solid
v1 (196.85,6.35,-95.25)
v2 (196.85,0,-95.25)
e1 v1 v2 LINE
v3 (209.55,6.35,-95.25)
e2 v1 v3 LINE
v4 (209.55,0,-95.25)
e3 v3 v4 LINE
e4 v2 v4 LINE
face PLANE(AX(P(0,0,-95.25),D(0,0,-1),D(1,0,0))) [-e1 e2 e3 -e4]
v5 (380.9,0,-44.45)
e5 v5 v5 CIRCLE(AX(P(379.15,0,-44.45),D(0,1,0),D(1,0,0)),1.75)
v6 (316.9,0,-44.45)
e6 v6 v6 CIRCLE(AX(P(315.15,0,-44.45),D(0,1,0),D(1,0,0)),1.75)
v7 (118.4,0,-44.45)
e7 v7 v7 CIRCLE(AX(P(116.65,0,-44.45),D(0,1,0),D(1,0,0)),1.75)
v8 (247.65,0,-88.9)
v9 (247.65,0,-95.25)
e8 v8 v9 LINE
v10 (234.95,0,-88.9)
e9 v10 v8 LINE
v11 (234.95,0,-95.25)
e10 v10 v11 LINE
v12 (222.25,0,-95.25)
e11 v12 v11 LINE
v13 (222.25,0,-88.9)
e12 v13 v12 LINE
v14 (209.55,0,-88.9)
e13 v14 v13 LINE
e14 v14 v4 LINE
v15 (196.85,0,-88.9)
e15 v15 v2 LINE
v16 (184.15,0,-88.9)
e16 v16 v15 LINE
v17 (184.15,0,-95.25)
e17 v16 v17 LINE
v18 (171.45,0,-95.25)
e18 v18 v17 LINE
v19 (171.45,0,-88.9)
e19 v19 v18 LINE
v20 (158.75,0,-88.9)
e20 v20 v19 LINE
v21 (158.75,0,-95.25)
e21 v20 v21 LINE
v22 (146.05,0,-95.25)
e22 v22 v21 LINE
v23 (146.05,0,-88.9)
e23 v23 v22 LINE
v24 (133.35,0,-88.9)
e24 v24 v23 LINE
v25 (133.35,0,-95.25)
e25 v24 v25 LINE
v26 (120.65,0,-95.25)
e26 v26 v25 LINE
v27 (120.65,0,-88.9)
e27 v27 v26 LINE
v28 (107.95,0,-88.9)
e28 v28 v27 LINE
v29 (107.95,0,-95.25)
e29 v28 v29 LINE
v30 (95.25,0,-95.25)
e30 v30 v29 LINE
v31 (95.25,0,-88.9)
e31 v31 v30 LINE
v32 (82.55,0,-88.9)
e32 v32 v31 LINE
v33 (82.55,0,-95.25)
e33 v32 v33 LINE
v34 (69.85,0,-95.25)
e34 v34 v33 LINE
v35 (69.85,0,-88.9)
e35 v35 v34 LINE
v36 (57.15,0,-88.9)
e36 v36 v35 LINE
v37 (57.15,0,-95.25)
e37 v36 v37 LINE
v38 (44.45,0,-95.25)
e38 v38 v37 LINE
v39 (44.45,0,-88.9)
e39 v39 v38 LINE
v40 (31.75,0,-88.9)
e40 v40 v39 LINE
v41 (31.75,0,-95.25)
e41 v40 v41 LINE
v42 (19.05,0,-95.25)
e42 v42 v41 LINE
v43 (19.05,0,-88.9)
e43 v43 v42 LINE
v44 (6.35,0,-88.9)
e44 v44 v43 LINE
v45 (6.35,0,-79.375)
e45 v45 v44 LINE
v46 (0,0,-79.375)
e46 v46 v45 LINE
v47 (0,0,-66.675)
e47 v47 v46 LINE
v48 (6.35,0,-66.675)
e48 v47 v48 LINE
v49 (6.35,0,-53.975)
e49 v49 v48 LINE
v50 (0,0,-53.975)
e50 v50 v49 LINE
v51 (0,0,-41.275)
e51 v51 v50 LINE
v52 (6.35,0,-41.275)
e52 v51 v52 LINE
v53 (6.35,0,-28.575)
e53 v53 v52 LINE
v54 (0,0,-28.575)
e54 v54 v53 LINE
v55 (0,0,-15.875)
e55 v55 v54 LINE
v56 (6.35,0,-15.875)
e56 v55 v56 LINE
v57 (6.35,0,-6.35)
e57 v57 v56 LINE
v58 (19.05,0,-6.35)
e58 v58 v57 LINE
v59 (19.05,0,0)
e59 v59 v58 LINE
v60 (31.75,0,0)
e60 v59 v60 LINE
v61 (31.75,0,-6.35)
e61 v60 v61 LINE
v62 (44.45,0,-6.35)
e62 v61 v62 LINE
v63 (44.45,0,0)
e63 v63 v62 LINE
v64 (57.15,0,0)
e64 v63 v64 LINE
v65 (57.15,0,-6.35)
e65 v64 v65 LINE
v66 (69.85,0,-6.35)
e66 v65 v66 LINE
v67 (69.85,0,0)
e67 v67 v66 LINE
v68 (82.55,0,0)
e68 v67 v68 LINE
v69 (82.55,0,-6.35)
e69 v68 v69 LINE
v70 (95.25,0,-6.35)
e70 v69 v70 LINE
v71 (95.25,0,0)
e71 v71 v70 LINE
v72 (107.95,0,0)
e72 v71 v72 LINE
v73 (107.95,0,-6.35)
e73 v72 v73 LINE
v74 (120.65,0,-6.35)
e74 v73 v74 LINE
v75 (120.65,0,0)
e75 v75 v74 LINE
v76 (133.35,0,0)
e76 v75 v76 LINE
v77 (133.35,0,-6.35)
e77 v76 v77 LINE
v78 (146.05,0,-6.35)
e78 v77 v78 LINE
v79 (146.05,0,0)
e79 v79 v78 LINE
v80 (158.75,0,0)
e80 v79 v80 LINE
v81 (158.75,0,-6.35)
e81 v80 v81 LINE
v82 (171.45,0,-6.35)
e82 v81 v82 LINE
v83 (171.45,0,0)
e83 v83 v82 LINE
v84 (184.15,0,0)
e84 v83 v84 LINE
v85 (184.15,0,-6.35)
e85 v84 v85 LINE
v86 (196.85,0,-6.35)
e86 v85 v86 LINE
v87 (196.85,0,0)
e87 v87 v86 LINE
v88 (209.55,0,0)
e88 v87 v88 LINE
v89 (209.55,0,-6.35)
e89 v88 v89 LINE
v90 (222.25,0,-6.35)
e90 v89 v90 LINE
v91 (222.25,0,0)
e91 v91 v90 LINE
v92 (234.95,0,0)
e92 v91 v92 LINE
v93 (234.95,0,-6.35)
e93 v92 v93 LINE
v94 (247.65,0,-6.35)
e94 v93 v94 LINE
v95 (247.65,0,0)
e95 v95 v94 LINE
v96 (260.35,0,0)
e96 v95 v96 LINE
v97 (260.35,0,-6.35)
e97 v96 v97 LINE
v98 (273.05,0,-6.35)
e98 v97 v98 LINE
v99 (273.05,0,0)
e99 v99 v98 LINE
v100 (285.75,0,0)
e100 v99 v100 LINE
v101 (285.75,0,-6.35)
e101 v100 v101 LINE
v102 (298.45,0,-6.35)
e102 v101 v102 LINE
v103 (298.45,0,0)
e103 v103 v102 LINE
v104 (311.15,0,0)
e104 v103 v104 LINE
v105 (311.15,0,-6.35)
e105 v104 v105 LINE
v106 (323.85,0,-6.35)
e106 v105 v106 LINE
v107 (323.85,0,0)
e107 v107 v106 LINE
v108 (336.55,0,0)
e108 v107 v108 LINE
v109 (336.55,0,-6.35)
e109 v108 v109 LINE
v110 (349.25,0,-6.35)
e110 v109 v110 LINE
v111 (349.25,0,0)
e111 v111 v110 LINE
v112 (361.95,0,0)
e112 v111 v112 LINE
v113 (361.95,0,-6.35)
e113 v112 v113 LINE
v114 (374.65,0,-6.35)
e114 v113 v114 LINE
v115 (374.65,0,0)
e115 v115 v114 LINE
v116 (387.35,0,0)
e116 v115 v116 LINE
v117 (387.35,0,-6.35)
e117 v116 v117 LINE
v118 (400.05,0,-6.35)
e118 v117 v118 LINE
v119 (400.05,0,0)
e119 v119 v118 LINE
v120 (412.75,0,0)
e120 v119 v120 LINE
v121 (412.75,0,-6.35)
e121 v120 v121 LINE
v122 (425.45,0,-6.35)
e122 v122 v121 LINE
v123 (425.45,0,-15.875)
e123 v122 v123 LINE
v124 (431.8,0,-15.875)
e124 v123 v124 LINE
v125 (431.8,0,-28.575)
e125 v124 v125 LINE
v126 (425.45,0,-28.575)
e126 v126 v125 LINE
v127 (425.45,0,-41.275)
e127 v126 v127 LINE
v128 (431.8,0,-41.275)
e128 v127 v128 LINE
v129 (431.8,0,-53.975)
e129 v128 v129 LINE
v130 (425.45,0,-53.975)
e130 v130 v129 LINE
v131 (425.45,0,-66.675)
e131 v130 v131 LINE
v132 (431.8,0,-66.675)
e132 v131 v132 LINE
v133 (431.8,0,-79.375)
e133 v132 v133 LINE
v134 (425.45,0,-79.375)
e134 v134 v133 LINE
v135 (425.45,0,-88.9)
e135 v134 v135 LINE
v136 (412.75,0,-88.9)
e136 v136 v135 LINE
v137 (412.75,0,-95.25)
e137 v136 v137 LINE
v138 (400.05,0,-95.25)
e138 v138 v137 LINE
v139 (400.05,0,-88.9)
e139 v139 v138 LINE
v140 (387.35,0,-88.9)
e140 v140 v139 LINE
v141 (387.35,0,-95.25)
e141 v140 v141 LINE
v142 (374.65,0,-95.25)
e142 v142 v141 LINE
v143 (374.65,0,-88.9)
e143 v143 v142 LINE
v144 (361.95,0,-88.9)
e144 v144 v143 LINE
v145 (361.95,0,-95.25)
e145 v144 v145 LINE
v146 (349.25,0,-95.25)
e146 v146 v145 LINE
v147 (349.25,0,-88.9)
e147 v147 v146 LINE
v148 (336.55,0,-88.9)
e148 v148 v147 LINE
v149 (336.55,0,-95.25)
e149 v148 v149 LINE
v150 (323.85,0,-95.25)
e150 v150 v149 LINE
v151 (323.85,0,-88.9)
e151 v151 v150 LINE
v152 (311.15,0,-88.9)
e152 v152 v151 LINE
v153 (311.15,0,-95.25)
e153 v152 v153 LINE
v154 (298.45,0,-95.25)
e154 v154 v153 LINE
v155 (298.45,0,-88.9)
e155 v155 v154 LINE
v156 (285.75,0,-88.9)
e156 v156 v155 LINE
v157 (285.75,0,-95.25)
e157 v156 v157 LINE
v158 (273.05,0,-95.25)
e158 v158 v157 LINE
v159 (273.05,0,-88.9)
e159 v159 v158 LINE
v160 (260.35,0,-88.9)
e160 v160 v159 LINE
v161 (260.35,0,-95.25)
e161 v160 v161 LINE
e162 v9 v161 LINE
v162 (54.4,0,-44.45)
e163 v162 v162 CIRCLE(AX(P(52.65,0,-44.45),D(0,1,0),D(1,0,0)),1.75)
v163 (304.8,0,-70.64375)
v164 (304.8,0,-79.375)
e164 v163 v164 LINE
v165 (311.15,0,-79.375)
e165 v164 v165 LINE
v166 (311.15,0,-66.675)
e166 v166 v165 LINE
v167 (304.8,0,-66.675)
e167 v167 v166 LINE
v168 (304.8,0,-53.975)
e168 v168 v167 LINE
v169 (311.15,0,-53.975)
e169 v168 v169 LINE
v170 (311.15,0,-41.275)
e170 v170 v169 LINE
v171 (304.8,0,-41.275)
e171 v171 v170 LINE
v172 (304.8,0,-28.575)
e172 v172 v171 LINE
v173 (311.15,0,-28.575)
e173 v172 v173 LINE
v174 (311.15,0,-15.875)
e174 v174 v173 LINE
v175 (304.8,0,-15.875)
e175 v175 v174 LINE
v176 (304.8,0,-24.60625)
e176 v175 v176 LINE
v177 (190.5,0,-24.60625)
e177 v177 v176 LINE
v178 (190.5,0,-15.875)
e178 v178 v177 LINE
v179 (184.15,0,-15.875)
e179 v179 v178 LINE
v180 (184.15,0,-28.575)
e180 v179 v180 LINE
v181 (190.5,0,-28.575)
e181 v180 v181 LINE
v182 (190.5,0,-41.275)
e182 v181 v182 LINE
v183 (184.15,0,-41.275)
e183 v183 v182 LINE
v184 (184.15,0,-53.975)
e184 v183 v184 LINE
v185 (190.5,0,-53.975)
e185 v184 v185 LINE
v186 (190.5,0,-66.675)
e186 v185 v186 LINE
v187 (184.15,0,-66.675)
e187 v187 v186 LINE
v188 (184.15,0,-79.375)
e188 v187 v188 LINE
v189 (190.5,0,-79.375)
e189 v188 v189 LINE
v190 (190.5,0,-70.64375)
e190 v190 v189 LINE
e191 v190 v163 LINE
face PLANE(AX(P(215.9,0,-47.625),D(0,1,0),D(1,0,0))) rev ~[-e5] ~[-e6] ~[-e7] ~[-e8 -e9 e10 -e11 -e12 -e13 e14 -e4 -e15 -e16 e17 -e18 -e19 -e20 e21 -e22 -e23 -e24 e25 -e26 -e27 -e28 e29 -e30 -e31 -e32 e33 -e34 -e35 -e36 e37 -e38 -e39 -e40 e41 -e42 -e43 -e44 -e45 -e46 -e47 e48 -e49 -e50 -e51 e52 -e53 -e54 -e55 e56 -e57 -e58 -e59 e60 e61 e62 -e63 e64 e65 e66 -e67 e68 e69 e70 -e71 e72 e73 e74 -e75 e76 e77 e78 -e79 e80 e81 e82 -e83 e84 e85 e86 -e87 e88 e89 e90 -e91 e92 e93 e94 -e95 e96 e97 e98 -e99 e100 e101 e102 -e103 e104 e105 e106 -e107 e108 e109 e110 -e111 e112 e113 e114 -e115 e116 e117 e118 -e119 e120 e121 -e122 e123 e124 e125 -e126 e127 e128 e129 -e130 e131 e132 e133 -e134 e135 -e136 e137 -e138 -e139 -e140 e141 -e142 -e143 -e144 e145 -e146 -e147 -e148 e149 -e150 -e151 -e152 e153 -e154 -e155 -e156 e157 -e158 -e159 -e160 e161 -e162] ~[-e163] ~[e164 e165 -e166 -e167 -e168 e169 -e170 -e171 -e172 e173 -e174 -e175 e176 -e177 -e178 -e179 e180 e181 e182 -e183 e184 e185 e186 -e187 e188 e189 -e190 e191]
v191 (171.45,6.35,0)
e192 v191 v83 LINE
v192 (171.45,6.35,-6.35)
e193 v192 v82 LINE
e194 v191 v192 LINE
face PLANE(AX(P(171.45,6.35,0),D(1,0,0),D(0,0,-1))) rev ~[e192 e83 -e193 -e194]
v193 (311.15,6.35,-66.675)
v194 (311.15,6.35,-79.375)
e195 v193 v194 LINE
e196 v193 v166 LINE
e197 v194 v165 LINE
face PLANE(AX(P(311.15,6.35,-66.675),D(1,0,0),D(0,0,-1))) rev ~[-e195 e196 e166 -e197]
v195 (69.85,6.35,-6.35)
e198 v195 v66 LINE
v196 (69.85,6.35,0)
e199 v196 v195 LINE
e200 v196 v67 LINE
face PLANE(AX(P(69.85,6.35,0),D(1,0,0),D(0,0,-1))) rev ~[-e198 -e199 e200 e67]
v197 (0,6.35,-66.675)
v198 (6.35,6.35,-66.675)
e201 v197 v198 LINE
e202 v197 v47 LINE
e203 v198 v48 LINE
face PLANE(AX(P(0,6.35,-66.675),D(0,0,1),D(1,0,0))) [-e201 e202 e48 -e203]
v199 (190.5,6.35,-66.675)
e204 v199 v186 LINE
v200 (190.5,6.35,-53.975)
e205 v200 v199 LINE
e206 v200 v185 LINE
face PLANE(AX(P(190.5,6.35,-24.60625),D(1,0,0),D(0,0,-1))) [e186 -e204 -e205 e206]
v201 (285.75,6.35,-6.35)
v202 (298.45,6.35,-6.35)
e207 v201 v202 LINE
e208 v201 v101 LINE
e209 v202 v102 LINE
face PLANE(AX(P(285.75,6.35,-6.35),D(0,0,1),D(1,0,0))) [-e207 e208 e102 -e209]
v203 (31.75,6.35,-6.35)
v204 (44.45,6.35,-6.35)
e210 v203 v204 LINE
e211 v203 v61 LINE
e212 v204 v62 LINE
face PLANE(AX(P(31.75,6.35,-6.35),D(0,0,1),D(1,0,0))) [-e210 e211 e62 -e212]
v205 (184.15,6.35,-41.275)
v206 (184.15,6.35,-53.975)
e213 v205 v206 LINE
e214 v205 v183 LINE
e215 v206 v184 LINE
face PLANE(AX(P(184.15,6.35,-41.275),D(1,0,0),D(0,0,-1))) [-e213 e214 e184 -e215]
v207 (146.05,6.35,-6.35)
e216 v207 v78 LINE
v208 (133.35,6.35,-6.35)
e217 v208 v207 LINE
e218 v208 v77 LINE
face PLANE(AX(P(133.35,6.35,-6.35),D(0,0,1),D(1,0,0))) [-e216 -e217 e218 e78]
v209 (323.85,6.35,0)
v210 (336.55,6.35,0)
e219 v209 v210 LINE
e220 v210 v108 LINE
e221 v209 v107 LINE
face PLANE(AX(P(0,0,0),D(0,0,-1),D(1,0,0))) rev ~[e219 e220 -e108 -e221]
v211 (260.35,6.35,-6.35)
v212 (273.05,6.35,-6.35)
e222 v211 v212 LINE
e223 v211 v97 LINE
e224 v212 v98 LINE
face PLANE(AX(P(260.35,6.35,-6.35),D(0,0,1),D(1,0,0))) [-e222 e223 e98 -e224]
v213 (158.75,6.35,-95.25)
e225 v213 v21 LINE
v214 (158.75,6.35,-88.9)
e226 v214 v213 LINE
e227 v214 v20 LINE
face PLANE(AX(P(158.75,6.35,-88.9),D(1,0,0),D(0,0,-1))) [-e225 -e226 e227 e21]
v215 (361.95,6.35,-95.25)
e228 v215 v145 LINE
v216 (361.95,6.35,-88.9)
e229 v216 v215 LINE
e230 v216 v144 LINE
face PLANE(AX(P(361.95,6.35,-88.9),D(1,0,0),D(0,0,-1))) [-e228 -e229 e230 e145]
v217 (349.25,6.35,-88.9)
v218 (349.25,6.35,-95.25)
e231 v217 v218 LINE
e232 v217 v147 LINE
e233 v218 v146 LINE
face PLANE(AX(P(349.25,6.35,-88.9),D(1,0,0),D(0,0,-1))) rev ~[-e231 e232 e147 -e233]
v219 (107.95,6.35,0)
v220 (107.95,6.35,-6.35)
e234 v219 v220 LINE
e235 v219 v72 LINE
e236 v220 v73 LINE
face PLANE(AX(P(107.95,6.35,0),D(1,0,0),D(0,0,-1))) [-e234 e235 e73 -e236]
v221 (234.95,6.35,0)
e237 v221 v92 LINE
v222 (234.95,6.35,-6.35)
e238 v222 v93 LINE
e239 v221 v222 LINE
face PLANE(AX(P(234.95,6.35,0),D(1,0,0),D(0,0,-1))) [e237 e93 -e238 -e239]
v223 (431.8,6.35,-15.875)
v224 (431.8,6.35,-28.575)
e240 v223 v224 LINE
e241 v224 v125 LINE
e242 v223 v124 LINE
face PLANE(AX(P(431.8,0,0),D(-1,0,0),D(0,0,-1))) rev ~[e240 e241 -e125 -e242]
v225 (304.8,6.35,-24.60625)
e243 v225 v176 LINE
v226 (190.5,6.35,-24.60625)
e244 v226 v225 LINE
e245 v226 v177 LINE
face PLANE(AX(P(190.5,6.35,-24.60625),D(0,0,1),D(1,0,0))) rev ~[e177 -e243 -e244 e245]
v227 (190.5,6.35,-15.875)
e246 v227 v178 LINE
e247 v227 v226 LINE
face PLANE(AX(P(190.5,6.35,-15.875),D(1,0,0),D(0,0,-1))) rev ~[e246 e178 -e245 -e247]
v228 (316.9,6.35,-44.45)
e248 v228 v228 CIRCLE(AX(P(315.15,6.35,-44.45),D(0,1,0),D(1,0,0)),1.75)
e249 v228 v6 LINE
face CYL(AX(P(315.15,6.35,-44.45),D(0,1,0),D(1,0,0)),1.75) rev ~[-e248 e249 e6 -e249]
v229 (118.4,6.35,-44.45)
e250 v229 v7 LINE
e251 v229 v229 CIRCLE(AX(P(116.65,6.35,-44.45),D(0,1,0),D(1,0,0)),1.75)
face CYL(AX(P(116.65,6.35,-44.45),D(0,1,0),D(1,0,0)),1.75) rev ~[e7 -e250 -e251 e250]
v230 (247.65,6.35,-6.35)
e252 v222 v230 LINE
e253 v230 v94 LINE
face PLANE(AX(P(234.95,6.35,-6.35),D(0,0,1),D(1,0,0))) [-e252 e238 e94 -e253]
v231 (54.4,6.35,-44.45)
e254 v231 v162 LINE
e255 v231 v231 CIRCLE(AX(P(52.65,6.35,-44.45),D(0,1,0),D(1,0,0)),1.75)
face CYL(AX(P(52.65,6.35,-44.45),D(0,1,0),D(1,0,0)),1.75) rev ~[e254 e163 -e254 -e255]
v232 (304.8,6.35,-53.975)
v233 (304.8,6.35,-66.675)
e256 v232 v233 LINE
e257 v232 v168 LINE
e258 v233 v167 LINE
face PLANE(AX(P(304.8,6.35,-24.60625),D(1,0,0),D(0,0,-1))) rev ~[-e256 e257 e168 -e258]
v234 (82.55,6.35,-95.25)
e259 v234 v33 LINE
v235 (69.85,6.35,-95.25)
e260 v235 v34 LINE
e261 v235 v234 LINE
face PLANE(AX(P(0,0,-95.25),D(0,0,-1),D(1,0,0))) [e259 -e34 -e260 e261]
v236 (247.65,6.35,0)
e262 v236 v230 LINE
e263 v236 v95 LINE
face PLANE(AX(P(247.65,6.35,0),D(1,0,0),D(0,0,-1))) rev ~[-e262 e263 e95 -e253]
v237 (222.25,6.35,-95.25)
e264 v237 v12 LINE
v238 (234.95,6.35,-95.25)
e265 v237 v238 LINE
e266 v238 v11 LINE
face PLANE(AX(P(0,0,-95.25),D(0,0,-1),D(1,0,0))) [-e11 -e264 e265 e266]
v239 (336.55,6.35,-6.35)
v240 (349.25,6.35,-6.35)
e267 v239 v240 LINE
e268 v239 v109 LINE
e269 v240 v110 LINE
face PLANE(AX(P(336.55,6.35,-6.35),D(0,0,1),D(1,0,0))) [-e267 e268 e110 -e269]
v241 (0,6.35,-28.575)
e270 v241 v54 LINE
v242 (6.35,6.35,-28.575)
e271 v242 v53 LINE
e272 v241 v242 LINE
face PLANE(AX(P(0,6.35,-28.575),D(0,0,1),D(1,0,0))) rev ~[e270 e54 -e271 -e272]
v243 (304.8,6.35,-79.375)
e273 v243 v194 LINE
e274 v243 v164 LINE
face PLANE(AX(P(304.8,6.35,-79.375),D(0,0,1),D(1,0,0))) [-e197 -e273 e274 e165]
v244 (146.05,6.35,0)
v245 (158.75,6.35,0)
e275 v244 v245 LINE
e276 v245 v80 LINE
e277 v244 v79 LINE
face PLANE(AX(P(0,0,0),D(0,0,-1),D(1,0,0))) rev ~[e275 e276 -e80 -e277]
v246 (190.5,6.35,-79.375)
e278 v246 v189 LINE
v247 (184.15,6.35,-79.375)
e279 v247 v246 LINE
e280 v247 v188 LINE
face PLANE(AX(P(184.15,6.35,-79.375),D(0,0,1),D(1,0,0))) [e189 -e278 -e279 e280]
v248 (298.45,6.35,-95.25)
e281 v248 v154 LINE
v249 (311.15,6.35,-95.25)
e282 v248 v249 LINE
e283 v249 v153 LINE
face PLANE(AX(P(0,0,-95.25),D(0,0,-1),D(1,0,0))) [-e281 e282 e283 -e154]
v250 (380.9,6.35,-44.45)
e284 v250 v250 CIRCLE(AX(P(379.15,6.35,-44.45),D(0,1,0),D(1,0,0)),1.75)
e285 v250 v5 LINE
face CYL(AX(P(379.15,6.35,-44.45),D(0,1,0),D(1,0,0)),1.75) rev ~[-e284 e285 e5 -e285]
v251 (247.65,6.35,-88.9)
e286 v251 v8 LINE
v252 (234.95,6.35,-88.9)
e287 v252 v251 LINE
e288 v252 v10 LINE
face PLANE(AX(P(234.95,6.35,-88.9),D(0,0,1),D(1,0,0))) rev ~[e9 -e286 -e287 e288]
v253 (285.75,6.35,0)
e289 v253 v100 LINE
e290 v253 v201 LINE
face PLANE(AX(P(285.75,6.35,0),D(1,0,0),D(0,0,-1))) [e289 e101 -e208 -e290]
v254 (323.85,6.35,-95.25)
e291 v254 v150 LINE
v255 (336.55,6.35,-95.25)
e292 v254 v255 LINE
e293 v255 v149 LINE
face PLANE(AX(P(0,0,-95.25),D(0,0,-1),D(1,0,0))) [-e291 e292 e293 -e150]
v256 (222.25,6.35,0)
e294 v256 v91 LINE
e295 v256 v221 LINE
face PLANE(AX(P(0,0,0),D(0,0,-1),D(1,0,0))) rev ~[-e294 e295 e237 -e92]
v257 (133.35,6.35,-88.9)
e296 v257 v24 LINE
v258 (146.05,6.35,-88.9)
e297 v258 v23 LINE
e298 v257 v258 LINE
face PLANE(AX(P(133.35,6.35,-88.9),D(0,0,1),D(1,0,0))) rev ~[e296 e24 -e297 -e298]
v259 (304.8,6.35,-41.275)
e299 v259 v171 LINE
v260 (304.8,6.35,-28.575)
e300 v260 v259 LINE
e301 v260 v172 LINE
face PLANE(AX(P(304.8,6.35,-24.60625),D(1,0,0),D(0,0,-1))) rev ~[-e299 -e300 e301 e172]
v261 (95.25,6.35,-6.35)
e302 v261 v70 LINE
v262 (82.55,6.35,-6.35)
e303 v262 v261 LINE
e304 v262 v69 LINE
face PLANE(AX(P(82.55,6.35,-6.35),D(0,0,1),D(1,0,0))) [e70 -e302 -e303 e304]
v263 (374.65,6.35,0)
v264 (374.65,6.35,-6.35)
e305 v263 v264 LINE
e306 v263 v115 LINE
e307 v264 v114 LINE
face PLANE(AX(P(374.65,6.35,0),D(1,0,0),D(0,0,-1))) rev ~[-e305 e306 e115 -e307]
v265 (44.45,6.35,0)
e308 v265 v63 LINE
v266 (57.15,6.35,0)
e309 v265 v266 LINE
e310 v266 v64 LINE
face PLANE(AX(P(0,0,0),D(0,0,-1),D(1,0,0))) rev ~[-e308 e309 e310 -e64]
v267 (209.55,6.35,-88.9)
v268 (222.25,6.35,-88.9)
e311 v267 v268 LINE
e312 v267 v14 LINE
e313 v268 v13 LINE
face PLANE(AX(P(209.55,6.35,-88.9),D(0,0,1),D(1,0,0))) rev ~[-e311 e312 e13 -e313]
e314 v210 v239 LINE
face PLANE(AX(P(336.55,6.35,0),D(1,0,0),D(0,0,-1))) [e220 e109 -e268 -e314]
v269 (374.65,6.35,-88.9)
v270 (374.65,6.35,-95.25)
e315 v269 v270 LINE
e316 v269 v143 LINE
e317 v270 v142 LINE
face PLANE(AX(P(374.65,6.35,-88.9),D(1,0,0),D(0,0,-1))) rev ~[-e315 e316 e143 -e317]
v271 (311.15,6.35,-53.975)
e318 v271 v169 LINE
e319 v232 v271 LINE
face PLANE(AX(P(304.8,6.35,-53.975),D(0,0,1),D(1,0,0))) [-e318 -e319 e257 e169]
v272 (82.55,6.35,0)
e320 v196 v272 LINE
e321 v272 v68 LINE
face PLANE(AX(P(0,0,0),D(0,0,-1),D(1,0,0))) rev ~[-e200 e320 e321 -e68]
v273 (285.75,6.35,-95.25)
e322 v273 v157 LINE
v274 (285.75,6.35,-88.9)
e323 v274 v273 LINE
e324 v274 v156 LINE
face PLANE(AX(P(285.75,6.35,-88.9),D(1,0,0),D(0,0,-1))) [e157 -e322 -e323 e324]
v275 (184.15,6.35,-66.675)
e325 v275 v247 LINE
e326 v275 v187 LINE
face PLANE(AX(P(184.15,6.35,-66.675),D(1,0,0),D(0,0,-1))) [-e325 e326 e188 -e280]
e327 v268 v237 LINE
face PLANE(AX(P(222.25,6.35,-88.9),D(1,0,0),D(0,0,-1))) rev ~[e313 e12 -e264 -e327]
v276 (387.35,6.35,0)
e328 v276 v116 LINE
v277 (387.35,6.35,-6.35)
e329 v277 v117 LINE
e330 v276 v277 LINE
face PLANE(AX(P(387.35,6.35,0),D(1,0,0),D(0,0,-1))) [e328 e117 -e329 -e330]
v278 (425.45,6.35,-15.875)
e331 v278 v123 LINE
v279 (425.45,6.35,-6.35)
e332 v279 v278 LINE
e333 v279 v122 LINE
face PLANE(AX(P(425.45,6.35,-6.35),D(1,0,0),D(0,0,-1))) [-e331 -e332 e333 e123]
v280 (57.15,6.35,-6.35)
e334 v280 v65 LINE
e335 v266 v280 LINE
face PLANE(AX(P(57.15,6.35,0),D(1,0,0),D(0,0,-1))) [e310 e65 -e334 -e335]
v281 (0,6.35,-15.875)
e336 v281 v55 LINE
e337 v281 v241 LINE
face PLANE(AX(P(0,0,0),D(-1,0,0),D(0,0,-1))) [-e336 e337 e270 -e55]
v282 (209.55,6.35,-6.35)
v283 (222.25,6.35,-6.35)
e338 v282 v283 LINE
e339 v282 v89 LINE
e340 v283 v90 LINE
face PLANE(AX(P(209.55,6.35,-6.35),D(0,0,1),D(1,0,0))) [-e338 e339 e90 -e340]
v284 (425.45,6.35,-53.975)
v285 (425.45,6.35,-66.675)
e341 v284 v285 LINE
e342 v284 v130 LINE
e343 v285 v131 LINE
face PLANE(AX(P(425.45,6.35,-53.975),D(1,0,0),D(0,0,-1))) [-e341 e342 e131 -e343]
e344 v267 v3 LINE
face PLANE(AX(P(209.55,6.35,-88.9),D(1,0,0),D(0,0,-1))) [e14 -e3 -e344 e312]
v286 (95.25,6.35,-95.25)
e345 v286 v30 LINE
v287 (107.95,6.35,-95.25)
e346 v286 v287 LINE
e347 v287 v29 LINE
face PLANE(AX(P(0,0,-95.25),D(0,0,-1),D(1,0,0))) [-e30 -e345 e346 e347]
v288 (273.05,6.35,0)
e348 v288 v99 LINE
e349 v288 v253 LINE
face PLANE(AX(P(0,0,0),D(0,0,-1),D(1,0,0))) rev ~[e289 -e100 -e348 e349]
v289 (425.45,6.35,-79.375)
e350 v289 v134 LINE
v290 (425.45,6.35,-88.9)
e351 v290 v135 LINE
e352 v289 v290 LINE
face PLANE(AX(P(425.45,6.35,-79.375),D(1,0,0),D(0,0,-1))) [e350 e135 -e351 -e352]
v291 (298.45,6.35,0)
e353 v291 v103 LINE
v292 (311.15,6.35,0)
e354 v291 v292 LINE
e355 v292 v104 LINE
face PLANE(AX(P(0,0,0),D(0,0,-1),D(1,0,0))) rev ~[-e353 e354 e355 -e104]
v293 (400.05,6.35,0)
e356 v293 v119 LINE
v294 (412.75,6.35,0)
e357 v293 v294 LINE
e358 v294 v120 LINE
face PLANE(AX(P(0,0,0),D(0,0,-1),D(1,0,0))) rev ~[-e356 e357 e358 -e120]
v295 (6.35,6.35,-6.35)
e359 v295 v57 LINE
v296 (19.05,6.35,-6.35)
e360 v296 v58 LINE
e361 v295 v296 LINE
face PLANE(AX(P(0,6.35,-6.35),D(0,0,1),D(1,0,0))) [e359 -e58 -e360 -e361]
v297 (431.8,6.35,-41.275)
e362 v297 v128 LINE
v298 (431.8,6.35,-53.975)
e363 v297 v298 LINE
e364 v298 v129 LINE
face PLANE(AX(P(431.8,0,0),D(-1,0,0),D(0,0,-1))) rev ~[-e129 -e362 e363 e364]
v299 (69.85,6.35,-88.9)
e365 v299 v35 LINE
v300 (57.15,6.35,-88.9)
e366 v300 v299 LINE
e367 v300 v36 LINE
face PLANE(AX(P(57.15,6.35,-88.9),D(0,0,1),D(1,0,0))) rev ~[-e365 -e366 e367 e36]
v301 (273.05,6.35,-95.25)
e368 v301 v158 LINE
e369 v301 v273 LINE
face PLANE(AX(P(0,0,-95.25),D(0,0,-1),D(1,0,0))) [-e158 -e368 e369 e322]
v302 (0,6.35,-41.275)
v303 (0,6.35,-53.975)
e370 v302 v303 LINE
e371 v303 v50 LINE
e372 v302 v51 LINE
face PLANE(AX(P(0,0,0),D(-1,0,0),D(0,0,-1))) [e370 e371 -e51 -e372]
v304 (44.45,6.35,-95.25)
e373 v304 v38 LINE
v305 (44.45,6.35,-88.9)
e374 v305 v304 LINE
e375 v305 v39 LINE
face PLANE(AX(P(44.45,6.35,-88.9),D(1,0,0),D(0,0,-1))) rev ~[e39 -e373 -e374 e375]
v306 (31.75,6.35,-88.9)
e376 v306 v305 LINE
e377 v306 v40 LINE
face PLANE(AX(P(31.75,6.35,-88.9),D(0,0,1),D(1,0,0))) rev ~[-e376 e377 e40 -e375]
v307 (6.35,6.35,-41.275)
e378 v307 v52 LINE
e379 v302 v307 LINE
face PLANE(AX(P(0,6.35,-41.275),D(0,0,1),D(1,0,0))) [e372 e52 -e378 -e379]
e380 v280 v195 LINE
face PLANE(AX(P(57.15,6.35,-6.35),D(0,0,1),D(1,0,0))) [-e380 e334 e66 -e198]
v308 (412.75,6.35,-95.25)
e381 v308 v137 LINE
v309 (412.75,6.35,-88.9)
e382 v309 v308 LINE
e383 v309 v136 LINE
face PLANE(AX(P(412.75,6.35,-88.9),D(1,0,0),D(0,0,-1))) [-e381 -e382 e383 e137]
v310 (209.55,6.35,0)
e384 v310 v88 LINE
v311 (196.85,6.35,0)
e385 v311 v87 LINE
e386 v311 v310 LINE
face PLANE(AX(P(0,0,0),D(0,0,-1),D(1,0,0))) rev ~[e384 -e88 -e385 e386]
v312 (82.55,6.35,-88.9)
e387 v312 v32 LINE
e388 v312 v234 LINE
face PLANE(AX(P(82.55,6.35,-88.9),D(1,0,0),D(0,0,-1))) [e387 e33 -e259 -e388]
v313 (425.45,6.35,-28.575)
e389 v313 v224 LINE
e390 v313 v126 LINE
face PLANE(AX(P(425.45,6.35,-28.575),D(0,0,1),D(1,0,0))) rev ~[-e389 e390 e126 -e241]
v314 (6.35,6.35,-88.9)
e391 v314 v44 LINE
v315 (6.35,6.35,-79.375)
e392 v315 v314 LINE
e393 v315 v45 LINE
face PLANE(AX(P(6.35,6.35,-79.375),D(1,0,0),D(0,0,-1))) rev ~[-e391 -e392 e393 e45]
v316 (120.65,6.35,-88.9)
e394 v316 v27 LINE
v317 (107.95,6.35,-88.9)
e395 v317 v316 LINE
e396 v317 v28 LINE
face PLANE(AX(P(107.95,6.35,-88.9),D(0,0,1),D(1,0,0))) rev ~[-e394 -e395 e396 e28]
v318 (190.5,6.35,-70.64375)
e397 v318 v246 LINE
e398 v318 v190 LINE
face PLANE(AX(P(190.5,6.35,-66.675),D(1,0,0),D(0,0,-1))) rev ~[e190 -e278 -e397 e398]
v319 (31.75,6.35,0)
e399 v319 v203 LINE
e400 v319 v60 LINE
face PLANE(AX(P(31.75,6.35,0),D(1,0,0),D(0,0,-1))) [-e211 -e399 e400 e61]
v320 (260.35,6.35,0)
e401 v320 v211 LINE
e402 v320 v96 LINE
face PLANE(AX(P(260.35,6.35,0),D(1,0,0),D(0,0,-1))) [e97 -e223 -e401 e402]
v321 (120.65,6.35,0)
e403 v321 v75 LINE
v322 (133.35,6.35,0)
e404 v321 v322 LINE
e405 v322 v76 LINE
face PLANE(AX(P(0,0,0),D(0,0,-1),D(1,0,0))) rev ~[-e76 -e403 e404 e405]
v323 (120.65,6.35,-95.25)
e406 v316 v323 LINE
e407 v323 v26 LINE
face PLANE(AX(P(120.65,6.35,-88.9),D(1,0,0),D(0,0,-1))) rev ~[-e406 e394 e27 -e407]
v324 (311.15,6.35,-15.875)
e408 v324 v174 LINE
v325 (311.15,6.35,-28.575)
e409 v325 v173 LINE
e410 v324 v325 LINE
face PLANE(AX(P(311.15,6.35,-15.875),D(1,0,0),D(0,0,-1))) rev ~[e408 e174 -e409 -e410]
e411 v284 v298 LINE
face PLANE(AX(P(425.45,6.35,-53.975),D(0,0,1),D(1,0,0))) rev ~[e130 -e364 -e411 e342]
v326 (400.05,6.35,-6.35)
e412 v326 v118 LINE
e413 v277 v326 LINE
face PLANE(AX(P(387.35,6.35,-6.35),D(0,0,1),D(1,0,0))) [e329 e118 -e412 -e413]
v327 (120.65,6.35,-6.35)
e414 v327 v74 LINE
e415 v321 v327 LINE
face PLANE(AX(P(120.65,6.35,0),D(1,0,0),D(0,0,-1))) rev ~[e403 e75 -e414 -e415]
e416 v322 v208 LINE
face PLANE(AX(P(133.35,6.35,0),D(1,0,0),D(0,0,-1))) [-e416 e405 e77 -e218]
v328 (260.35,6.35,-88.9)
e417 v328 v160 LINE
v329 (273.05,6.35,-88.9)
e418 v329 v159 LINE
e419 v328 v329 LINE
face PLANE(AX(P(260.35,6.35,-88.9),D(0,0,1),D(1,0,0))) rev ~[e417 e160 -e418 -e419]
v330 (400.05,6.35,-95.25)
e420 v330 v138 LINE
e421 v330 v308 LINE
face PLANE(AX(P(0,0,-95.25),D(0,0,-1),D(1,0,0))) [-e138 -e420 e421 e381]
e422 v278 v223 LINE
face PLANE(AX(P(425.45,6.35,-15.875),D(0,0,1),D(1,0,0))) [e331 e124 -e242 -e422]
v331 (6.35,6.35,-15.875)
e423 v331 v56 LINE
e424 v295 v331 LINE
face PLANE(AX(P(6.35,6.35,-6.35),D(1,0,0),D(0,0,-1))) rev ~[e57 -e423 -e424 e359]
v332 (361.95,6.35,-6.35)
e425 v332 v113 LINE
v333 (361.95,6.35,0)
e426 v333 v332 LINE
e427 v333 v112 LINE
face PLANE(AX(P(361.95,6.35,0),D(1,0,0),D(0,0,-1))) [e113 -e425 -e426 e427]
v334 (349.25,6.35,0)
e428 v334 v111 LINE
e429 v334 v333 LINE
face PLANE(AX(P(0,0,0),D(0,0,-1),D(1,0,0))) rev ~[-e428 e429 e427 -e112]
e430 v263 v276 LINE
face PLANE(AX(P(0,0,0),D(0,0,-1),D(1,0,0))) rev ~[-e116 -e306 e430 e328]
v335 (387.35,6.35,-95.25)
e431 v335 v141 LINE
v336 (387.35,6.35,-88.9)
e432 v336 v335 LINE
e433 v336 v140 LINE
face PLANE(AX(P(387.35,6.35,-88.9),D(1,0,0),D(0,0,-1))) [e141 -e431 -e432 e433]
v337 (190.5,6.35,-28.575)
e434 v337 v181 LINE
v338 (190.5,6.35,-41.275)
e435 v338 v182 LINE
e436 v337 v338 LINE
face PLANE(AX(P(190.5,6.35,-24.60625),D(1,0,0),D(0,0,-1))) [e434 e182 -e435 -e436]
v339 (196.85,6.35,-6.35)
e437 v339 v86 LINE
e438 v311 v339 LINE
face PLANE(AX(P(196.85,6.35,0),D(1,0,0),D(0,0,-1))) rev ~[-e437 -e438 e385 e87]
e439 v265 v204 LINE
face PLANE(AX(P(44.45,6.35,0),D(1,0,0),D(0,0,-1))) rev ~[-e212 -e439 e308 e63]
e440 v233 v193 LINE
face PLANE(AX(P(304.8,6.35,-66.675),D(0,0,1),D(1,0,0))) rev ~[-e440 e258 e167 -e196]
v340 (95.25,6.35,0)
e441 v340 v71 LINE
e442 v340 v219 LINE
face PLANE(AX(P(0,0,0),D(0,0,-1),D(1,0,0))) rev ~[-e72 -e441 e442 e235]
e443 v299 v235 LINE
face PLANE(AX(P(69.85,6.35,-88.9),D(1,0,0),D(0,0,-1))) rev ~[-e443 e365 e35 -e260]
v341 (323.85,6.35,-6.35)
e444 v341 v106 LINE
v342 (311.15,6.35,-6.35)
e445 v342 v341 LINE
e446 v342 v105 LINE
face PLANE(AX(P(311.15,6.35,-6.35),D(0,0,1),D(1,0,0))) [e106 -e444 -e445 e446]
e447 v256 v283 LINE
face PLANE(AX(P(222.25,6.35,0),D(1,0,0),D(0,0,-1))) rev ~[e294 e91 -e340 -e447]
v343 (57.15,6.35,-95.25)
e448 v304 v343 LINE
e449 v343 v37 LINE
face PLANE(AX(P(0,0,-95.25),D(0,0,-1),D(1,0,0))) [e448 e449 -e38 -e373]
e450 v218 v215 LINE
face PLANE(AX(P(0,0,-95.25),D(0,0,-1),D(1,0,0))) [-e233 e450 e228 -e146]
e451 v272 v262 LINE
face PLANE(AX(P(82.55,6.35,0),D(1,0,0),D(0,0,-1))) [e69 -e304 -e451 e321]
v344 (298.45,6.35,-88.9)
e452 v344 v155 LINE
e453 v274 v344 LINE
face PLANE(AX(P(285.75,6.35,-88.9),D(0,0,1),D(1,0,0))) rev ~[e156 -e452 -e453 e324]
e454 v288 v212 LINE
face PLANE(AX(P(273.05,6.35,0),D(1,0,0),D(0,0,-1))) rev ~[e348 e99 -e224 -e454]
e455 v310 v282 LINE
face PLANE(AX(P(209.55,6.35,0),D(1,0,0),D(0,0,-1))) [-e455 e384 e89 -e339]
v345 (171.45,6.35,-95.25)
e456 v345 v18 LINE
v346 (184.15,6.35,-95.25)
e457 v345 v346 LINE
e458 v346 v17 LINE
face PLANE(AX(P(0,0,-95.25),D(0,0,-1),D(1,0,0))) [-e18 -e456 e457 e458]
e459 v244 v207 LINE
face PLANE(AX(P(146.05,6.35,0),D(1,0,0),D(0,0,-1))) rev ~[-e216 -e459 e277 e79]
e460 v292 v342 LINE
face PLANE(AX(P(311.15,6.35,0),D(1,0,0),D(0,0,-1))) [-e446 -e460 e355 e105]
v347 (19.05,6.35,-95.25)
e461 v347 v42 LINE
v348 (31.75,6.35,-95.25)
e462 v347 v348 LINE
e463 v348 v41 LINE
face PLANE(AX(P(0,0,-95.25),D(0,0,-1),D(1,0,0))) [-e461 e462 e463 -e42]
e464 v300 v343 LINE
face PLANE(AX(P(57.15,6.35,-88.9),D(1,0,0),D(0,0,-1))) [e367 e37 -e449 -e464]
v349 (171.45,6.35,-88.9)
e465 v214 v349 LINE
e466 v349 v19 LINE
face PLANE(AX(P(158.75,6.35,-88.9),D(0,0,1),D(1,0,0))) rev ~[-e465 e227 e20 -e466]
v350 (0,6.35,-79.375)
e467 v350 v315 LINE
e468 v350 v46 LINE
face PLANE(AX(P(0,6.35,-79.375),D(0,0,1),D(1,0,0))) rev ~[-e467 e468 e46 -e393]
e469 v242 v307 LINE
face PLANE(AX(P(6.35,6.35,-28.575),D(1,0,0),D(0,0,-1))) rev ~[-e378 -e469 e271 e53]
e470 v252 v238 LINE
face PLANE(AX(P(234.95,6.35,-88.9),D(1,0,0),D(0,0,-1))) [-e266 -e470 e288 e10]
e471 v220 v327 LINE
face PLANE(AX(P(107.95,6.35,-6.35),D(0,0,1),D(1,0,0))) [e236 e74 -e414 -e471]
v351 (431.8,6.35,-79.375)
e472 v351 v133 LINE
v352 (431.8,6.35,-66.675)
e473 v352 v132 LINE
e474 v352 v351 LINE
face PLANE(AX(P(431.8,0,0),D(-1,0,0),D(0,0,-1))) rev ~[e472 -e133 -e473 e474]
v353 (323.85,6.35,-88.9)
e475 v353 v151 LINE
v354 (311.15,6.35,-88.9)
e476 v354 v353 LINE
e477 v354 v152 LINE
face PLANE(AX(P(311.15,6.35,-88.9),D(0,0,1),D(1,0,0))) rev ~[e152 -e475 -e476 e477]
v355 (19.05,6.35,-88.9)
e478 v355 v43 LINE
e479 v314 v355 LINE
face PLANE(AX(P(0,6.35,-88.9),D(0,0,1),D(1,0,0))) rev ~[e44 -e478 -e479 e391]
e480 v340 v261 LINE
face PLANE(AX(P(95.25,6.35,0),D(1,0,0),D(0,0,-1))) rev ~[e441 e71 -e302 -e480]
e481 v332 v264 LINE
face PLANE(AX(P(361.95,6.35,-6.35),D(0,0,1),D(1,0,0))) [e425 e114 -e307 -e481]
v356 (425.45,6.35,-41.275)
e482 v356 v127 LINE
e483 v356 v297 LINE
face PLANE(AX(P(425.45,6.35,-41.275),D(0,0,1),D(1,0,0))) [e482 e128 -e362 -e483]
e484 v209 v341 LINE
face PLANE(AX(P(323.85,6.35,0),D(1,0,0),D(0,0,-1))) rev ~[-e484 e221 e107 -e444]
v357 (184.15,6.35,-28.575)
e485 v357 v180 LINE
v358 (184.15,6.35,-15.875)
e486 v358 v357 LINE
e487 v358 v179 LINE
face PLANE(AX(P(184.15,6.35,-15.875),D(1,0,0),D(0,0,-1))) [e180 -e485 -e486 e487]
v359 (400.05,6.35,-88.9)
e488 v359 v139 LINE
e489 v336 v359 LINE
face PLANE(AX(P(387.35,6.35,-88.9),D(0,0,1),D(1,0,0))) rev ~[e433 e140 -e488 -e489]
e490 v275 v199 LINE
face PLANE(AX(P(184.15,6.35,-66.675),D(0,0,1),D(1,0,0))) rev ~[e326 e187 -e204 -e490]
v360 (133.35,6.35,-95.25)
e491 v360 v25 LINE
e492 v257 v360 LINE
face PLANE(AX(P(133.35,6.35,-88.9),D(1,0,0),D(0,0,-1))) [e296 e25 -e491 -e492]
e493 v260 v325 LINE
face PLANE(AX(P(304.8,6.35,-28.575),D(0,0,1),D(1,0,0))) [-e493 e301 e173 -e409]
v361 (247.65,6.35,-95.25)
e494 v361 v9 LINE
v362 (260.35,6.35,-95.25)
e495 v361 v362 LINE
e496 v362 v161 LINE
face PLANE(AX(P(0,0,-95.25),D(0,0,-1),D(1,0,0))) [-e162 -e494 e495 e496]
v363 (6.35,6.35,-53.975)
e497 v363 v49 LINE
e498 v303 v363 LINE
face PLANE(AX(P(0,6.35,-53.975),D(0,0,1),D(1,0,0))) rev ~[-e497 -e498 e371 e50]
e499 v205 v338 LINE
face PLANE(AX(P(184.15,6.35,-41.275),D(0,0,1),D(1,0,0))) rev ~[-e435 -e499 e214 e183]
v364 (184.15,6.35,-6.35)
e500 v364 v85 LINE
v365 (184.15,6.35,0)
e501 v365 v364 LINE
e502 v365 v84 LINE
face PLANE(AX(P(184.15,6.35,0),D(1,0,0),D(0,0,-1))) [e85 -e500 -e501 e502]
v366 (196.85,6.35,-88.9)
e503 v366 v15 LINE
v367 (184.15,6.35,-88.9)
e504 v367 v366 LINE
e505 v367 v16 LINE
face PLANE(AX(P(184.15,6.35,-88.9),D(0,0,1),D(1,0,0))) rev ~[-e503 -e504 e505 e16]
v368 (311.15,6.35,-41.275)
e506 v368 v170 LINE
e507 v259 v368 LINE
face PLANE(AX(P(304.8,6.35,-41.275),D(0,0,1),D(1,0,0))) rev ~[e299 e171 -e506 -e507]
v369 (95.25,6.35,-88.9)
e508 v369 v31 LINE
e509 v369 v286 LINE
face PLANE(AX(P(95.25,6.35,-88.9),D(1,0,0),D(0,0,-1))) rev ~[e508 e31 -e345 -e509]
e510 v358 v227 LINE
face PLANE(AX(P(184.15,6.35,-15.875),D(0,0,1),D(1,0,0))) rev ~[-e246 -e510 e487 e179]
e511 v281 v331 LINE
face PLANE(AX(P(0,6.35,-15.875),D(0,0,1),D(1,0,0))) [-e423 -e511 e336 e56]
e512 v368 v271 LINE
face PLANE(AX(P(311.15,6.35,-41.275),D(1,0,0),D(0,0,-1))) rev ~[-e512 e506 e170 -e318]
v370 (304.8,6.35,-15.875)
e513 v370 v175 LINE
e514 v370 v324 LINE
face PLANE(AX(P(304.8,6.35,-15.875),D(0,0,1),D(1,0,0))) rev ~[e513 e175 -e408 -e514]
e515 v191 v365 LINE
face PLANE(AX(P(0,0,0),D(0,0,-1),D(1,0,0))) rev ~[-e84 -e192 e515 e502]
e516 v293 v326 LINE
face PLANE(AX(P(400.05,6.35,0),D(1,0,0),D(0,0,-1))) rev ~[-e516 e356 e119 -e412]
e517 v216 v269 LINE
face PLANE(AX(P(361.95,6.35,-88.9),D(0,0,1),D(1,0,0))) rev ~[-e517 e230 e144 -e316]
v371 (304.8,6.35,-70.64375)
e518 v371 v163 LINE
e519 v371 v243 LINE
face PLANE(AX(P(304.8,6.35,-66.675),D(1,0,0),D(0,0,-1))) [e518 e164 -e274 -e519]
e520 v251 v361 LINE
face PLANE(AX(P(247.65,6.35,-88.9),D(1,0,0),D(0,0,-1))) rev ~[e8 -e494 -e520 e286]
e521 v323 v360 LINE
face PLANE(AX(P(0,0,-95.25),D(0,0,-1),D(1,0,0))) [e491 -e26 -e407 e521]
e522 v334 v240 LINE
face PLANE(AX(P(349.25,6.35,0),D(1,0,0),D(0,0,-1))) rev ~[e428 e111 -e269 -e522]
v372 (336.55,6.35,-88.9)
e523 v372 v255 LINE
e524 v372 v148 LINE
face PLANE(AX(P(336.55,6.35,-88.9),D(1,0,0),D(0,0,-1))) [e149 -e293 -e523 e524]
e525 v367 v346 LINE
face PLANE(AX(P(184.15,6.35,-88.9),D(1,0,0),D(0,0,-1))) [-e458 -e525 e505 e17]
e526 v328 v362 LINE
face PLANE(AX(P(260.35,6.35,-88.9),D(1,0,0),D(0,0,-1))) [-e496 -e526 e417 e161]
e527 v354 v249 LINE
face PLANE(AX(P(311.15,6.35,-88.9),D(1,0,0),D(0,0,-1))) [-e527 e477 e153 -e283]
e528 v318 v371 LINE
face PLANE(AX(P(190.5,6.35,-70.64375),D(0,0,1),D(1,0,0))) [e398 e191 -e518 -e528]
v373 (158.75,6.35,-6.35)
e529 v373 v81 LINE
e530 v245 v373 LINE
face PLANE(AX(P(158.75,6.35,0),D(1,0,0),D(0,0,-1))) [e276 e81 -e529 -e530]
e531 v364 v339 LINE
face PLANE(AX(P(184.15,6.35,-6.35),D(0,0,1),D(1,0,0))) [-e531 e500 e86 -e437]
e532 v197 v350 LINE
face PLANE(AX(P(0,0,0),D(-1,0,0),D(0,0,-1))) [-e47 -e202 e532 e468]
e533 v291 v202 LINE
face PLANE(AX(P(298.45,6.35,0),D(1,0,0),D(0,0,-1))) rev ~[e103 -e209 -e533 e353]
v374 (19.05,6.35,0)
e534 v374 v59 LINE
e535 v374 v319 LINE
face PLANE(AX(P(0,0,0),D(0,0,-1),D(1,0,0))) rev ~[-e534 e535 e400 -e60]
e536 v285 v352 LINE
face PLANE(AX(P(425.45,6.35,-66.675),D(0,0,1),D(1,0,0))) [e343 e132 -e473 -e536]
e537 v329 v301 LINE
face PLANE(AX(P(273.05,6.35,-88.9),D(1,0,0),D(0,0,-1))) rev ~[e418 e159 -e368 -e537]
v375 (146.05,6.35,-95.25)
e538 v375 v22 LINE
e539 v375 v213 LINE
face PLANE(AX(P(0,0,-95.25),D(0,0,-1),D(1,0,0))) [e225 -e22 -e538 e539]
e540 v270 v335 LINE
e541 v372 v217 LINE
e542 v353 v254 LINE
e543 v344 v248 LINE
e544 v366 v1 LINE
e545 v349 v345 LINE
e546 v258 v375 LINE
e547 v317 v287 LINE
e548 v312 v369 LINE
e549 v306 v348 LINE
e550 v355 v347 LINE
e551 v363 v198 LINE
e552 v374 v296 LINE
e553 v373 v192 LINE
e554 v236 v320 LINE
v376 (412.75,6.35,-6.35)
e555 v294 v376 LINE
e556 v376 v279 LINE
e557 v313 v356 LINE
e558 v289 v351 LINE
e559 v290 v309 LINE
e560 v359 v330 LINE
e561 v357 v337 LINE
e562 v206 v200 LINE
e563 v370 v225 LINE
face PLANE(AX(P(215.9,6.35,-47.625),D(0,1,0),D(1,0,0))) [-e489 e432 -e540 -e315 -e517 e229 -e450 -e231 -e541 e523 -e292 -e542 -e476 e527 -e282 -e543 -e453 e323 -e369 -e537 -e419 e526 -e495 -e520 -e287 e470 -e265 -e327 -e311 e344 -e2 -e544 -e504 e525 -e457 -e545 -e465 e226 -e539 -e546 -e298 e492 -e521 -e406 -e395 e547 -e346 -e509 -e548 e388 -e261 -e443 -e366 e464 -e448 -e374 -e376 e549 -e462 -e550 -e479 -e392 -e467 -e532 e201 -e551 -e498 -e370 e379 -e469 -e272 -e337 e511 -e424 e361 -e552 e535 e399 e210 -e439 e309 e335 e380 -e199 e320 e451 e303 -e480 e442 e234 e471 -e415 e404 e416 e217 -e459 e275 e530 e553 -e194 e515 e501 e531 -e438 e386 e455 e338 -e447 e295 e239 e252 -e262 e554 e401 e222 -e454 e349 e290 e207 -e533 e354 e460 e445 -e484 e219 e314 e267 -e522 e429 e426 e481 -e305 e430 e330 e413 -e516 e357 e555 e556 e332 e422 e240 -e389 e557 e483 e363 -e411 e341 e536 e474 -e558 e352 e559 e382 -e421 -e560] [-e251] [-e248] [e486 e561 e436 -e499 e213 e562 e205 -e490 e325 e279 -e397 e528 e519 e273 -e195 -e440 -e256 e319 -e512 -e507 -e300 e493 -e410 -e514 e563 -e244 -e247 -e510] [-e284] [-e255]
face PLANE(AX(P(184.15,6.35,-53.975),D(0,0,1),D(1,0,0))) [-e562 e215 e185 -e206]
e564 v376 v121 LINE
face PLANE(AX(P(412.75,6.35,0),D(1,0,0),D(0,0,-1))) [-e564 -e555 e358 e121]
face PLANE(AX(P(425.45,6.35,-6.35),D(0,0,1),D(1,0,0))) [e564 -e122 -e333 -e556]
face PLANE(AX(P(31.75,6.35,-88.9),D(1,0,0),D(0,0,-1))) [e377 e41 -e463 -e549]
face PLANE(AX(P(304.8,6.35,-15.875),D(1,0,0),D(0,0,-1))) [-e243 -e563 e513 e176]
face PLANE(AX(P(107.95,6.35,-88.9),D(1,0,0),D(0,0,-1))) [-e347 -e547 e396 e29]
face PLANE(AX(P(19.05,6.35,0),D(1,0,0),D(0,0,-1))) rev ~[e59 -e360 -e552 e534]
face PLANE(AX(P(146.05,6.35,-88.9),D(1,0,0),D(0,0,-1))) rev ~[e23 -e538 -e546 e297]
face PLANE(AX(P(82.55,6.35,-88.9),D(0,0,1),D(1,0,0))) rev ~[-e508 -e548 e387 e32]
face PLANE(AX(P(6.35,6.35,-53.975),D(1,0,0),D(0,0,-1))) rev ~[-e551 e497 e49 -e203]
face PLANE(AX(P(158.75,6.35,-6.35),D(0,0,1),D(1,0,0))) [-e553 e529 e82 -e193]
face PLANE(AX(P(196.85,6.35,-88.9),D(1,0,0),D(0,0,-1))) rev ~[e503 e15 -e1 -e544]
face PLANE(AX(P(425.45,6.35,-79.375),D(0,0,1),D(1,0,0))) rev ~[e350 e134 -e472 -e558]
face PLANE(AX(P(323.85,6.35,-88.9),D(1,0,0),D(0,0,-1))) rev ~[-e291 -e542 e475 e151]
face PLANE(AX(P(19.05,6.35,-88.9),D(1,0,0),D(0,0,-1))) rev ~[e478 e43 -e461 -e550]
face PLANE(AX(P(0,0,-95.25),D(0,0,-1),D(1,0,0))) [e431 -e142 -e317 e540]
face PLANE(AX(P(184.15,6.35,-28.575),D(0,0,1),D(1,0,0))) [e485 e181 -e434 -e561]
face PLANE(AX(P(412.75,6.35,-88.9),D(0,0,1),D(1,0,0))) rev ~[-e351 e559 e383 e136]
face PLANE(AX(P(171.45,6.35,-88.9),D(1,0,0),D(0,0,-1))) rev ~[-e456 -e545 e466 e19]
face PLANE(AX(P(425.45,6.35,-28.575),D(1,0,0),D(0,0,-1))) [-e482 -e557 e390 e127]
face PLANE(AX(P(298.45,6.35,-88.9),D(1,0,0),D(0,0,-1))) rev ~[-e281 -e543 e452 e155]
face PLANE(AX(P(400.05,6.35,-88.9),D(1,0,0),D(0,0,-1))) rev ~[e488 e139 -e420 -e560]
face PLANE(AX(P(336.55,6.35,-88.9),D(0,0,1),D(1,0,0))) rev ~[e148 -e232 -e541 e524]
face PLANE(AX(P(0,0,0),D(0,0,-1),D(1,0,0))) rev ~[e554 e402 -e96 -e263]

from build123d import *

# Parameters (mm, degrees)
SKETCH1_W           = 431.8
SKETCH1_H           = 95.25
BOSS_EXTRUDE1_DEPTH = 6.35
SKETCH2_W           = 12.7
SKETCH2_H           = 6.35
CUT_EXTRUDE1_DEPTH  = 7.35
LPATTERN1_COUNT     = 17
LPATTERN1_PITCH     = 25.4
SKETCH3_W           = 6.35
SKETCH3_H           = 6.35
CUT_EXTRUDE2_DEPTH  = 7.35
SKETCH5_W           = 6.35
SKETCH5_H           = 12.7
CUT_EXTRUDE4_DEPTH  = 7.35
LPATTERN2_COUNT     = 2
LPATTERN2_PITCH     = 25.4
LPATTERN2_COL_COUNT = 2
LPATTERN2_COL_PITCH = 25.4
SKETCH6_W           = 114.3
SKETCH6_H           = 46.0375
CUT_EXTRUDE5_DEPTH  = 7.35
SKETCH7_R           = 1.75
CUT_EXTRUDE6_DEPTH  = 7.35
SKETCH8_W           = 6.35
SKETCH8_H           = 9.525
SKETCH8_H_2         = 12.7
CUT_EXTRUDE7_DEPTH  = 7.35
LPATTERN3_COUNT     = 2
LPATTERN3_PITCH     = 425.45


with BuildPart() as part:
    # Sketch1 → Boss-Extrude1 (new body)
    with BuildSketch(Plane(origin=(0, 0, 0), x_dir=(1, 0, 0), z_dir=(0, 1, 0))):
        with Locations((215.9, 47.625)):
            Rectangle(SKETCH1_W, SKETCH1_H)
    extrude(amount=BOSS_EXTRUDE1_DEPTH)

    # Sketch2 → Cut-Extrude1 (cut, through all)
    with BuildSketch(Plane(origin=(0, 6.35, 0), x_dir=(1, 0, 0), z_dir=(0, 1, 0))):
        with Locations((12.7, 92.075)):
            Rectangle(SKETCH2_W, SKETCH2_H)
        with Locations((12.7, 3.175)):
            Rectangle(SKETCH2_W, SKETCH2_H)
    cut_extrude1 = extrude(amount=-CUT_EXTRUDE1_DEPTH, mode=Mode.SUBTRACT)

    # LPattern1: Cut-Extrude1 ×17
    with Locations(*[(i * LPATTERN1_PITCH, 0, 0) for i in range(1, LPATTERN1_COUNT)]):
        add(cut_extrude1, mode=Mode.SUBTRACT)

    # Sketch3 → Cut-Extrude2 (cut, through all)
    with BuildSketch(Plane(origin=(0, 6.35, 0), x_dir=(1, 0, 0), z_dir=(0, 1, 0))):
        with Locations((3.175, 92.075)):
            Rectangle(SKETCH3_W, SKETCH3_H)
        with Locations((3.175, 3.175)):
            Rectangle(SKETCH3_W, SKETCH3_H)
        with Locations((428.625, 92.075)):
            Rectangle(SKETCH3_W, SKETCH3_H)
        with Locations((428.625, 3.175)):
            Rectangle(SKETCH3_W, SKETCH3_H)
    extrude(amount=-CUT_EXTRUDE2_DEPTH, mode=Mode.SUBTRACT)

    # Sketch5 → Cut-Extrude4 (cut, through all)
    with BuildSketch(Plane(origin=(0, 6.35, 0), x_dir=(1, 0, 0), z_dir=(0, 1, 0))):
        with Locations((187.325, 47.625)):
            Rectangle(SKETCH5_W, SKETCH5_H)
        with Locations((307.975, 47.625)):
            Rectangle(SKETCH5_W, SKETCH5_H)
    cut_extrude4 = extrude(amount=-CUT_EXTRUDE4_DEPTH, mode=Mode.SUBTRACT)

    # LPattern2: Cut-Extrude4 ×2
    with Locations(*[(0, 0, -i * LPATTERN2_PITCH) for i in range(1, LPATTERN2_COUNT)]):
        add(cut_extrude4, mode=Mode.SUBTRACT)

    # LPattern2 col: Cut-Extrude4 ×2
    with Locations(*[(0, 0, i * LPATTERN2_COL_PITCH) for i in range(1, LPATTERN2_COL_COUNT)]):
        add(cut_extrude4, mode=Mode.SUBTRACT)

    # Sketch6 → Cut-Extrude5 (cut, through all)
    with BuildSketch(Plane(origin=(0, 6.35, 0), x_dir=(1, 0, 0), z_dir=(0, 1, 0))):
        with Locations((247.65, 47.625)):
            Rectangle(SKETCH6_W, SKETCH6_H)
    extrude(amount=-CUT_EXTRUDE5_DEPTH, mode=Mode.SUBTRACT)

    # Sketch7 → Cut-Extrude6 (cut, through all)
    with BuildSketch(Plane(origin=(0, 6.35, 0), x_dir=(1, 0, 0), z_dir=(0, 1, 0))):
        with Locations((52.65, 44.45)):
            Circle(SKETCH7_R)
        with Locations((116.65, 44.45)):
            Circle(SKETCH7_R)
        with Locations((315.15, 44.45)):
            Circle(SKETCH7_R)
        with Locations((379.15, 44.45)):
            Circle(SKETCH7_R)
    extrude(amount=-CUT_EXTRUDE6_DEPTH, mode=Mode.SUBTRACT)

    # Sketch8 → Cut-Extrude7 (cut, through all)
    with BuildSketch(Plane(origin=(0, 6.35, 0), x_dir=(1, 0, 0), z_dir=(0, 1, 0))):
        with Locations((3.175, 84.1375)):
            Rectangle(SKETCH8_W, SKETCH8_H)
        with Locations((3.175, 11.1125)):
            Rectangle(SKETCH8_W, SKETCH8_H)
        with Locations((3.175, 34.925)):
            Rectangle(SKETCH8_W, SKETCH8_H_2)
        with Locations((3.175, 60.325)):
            Rectangle(SKETCH8_W, SKETCH8_H_2)
    cut_extrude7 = extrude(amount=-CUT_EXTRUDE7_DEPTH, mode=Mode.SUBTRACT)

    # LPattern3: Cut-Extrude7 ×2
    with Locations(*[(i * LPATTERN3_PITCH, 0, 0) for i in range(1, LPATTERN3_COUNT)]):
        add(cut_extrude7, mode=Mode.SUBTRACT)


solid = part.part
